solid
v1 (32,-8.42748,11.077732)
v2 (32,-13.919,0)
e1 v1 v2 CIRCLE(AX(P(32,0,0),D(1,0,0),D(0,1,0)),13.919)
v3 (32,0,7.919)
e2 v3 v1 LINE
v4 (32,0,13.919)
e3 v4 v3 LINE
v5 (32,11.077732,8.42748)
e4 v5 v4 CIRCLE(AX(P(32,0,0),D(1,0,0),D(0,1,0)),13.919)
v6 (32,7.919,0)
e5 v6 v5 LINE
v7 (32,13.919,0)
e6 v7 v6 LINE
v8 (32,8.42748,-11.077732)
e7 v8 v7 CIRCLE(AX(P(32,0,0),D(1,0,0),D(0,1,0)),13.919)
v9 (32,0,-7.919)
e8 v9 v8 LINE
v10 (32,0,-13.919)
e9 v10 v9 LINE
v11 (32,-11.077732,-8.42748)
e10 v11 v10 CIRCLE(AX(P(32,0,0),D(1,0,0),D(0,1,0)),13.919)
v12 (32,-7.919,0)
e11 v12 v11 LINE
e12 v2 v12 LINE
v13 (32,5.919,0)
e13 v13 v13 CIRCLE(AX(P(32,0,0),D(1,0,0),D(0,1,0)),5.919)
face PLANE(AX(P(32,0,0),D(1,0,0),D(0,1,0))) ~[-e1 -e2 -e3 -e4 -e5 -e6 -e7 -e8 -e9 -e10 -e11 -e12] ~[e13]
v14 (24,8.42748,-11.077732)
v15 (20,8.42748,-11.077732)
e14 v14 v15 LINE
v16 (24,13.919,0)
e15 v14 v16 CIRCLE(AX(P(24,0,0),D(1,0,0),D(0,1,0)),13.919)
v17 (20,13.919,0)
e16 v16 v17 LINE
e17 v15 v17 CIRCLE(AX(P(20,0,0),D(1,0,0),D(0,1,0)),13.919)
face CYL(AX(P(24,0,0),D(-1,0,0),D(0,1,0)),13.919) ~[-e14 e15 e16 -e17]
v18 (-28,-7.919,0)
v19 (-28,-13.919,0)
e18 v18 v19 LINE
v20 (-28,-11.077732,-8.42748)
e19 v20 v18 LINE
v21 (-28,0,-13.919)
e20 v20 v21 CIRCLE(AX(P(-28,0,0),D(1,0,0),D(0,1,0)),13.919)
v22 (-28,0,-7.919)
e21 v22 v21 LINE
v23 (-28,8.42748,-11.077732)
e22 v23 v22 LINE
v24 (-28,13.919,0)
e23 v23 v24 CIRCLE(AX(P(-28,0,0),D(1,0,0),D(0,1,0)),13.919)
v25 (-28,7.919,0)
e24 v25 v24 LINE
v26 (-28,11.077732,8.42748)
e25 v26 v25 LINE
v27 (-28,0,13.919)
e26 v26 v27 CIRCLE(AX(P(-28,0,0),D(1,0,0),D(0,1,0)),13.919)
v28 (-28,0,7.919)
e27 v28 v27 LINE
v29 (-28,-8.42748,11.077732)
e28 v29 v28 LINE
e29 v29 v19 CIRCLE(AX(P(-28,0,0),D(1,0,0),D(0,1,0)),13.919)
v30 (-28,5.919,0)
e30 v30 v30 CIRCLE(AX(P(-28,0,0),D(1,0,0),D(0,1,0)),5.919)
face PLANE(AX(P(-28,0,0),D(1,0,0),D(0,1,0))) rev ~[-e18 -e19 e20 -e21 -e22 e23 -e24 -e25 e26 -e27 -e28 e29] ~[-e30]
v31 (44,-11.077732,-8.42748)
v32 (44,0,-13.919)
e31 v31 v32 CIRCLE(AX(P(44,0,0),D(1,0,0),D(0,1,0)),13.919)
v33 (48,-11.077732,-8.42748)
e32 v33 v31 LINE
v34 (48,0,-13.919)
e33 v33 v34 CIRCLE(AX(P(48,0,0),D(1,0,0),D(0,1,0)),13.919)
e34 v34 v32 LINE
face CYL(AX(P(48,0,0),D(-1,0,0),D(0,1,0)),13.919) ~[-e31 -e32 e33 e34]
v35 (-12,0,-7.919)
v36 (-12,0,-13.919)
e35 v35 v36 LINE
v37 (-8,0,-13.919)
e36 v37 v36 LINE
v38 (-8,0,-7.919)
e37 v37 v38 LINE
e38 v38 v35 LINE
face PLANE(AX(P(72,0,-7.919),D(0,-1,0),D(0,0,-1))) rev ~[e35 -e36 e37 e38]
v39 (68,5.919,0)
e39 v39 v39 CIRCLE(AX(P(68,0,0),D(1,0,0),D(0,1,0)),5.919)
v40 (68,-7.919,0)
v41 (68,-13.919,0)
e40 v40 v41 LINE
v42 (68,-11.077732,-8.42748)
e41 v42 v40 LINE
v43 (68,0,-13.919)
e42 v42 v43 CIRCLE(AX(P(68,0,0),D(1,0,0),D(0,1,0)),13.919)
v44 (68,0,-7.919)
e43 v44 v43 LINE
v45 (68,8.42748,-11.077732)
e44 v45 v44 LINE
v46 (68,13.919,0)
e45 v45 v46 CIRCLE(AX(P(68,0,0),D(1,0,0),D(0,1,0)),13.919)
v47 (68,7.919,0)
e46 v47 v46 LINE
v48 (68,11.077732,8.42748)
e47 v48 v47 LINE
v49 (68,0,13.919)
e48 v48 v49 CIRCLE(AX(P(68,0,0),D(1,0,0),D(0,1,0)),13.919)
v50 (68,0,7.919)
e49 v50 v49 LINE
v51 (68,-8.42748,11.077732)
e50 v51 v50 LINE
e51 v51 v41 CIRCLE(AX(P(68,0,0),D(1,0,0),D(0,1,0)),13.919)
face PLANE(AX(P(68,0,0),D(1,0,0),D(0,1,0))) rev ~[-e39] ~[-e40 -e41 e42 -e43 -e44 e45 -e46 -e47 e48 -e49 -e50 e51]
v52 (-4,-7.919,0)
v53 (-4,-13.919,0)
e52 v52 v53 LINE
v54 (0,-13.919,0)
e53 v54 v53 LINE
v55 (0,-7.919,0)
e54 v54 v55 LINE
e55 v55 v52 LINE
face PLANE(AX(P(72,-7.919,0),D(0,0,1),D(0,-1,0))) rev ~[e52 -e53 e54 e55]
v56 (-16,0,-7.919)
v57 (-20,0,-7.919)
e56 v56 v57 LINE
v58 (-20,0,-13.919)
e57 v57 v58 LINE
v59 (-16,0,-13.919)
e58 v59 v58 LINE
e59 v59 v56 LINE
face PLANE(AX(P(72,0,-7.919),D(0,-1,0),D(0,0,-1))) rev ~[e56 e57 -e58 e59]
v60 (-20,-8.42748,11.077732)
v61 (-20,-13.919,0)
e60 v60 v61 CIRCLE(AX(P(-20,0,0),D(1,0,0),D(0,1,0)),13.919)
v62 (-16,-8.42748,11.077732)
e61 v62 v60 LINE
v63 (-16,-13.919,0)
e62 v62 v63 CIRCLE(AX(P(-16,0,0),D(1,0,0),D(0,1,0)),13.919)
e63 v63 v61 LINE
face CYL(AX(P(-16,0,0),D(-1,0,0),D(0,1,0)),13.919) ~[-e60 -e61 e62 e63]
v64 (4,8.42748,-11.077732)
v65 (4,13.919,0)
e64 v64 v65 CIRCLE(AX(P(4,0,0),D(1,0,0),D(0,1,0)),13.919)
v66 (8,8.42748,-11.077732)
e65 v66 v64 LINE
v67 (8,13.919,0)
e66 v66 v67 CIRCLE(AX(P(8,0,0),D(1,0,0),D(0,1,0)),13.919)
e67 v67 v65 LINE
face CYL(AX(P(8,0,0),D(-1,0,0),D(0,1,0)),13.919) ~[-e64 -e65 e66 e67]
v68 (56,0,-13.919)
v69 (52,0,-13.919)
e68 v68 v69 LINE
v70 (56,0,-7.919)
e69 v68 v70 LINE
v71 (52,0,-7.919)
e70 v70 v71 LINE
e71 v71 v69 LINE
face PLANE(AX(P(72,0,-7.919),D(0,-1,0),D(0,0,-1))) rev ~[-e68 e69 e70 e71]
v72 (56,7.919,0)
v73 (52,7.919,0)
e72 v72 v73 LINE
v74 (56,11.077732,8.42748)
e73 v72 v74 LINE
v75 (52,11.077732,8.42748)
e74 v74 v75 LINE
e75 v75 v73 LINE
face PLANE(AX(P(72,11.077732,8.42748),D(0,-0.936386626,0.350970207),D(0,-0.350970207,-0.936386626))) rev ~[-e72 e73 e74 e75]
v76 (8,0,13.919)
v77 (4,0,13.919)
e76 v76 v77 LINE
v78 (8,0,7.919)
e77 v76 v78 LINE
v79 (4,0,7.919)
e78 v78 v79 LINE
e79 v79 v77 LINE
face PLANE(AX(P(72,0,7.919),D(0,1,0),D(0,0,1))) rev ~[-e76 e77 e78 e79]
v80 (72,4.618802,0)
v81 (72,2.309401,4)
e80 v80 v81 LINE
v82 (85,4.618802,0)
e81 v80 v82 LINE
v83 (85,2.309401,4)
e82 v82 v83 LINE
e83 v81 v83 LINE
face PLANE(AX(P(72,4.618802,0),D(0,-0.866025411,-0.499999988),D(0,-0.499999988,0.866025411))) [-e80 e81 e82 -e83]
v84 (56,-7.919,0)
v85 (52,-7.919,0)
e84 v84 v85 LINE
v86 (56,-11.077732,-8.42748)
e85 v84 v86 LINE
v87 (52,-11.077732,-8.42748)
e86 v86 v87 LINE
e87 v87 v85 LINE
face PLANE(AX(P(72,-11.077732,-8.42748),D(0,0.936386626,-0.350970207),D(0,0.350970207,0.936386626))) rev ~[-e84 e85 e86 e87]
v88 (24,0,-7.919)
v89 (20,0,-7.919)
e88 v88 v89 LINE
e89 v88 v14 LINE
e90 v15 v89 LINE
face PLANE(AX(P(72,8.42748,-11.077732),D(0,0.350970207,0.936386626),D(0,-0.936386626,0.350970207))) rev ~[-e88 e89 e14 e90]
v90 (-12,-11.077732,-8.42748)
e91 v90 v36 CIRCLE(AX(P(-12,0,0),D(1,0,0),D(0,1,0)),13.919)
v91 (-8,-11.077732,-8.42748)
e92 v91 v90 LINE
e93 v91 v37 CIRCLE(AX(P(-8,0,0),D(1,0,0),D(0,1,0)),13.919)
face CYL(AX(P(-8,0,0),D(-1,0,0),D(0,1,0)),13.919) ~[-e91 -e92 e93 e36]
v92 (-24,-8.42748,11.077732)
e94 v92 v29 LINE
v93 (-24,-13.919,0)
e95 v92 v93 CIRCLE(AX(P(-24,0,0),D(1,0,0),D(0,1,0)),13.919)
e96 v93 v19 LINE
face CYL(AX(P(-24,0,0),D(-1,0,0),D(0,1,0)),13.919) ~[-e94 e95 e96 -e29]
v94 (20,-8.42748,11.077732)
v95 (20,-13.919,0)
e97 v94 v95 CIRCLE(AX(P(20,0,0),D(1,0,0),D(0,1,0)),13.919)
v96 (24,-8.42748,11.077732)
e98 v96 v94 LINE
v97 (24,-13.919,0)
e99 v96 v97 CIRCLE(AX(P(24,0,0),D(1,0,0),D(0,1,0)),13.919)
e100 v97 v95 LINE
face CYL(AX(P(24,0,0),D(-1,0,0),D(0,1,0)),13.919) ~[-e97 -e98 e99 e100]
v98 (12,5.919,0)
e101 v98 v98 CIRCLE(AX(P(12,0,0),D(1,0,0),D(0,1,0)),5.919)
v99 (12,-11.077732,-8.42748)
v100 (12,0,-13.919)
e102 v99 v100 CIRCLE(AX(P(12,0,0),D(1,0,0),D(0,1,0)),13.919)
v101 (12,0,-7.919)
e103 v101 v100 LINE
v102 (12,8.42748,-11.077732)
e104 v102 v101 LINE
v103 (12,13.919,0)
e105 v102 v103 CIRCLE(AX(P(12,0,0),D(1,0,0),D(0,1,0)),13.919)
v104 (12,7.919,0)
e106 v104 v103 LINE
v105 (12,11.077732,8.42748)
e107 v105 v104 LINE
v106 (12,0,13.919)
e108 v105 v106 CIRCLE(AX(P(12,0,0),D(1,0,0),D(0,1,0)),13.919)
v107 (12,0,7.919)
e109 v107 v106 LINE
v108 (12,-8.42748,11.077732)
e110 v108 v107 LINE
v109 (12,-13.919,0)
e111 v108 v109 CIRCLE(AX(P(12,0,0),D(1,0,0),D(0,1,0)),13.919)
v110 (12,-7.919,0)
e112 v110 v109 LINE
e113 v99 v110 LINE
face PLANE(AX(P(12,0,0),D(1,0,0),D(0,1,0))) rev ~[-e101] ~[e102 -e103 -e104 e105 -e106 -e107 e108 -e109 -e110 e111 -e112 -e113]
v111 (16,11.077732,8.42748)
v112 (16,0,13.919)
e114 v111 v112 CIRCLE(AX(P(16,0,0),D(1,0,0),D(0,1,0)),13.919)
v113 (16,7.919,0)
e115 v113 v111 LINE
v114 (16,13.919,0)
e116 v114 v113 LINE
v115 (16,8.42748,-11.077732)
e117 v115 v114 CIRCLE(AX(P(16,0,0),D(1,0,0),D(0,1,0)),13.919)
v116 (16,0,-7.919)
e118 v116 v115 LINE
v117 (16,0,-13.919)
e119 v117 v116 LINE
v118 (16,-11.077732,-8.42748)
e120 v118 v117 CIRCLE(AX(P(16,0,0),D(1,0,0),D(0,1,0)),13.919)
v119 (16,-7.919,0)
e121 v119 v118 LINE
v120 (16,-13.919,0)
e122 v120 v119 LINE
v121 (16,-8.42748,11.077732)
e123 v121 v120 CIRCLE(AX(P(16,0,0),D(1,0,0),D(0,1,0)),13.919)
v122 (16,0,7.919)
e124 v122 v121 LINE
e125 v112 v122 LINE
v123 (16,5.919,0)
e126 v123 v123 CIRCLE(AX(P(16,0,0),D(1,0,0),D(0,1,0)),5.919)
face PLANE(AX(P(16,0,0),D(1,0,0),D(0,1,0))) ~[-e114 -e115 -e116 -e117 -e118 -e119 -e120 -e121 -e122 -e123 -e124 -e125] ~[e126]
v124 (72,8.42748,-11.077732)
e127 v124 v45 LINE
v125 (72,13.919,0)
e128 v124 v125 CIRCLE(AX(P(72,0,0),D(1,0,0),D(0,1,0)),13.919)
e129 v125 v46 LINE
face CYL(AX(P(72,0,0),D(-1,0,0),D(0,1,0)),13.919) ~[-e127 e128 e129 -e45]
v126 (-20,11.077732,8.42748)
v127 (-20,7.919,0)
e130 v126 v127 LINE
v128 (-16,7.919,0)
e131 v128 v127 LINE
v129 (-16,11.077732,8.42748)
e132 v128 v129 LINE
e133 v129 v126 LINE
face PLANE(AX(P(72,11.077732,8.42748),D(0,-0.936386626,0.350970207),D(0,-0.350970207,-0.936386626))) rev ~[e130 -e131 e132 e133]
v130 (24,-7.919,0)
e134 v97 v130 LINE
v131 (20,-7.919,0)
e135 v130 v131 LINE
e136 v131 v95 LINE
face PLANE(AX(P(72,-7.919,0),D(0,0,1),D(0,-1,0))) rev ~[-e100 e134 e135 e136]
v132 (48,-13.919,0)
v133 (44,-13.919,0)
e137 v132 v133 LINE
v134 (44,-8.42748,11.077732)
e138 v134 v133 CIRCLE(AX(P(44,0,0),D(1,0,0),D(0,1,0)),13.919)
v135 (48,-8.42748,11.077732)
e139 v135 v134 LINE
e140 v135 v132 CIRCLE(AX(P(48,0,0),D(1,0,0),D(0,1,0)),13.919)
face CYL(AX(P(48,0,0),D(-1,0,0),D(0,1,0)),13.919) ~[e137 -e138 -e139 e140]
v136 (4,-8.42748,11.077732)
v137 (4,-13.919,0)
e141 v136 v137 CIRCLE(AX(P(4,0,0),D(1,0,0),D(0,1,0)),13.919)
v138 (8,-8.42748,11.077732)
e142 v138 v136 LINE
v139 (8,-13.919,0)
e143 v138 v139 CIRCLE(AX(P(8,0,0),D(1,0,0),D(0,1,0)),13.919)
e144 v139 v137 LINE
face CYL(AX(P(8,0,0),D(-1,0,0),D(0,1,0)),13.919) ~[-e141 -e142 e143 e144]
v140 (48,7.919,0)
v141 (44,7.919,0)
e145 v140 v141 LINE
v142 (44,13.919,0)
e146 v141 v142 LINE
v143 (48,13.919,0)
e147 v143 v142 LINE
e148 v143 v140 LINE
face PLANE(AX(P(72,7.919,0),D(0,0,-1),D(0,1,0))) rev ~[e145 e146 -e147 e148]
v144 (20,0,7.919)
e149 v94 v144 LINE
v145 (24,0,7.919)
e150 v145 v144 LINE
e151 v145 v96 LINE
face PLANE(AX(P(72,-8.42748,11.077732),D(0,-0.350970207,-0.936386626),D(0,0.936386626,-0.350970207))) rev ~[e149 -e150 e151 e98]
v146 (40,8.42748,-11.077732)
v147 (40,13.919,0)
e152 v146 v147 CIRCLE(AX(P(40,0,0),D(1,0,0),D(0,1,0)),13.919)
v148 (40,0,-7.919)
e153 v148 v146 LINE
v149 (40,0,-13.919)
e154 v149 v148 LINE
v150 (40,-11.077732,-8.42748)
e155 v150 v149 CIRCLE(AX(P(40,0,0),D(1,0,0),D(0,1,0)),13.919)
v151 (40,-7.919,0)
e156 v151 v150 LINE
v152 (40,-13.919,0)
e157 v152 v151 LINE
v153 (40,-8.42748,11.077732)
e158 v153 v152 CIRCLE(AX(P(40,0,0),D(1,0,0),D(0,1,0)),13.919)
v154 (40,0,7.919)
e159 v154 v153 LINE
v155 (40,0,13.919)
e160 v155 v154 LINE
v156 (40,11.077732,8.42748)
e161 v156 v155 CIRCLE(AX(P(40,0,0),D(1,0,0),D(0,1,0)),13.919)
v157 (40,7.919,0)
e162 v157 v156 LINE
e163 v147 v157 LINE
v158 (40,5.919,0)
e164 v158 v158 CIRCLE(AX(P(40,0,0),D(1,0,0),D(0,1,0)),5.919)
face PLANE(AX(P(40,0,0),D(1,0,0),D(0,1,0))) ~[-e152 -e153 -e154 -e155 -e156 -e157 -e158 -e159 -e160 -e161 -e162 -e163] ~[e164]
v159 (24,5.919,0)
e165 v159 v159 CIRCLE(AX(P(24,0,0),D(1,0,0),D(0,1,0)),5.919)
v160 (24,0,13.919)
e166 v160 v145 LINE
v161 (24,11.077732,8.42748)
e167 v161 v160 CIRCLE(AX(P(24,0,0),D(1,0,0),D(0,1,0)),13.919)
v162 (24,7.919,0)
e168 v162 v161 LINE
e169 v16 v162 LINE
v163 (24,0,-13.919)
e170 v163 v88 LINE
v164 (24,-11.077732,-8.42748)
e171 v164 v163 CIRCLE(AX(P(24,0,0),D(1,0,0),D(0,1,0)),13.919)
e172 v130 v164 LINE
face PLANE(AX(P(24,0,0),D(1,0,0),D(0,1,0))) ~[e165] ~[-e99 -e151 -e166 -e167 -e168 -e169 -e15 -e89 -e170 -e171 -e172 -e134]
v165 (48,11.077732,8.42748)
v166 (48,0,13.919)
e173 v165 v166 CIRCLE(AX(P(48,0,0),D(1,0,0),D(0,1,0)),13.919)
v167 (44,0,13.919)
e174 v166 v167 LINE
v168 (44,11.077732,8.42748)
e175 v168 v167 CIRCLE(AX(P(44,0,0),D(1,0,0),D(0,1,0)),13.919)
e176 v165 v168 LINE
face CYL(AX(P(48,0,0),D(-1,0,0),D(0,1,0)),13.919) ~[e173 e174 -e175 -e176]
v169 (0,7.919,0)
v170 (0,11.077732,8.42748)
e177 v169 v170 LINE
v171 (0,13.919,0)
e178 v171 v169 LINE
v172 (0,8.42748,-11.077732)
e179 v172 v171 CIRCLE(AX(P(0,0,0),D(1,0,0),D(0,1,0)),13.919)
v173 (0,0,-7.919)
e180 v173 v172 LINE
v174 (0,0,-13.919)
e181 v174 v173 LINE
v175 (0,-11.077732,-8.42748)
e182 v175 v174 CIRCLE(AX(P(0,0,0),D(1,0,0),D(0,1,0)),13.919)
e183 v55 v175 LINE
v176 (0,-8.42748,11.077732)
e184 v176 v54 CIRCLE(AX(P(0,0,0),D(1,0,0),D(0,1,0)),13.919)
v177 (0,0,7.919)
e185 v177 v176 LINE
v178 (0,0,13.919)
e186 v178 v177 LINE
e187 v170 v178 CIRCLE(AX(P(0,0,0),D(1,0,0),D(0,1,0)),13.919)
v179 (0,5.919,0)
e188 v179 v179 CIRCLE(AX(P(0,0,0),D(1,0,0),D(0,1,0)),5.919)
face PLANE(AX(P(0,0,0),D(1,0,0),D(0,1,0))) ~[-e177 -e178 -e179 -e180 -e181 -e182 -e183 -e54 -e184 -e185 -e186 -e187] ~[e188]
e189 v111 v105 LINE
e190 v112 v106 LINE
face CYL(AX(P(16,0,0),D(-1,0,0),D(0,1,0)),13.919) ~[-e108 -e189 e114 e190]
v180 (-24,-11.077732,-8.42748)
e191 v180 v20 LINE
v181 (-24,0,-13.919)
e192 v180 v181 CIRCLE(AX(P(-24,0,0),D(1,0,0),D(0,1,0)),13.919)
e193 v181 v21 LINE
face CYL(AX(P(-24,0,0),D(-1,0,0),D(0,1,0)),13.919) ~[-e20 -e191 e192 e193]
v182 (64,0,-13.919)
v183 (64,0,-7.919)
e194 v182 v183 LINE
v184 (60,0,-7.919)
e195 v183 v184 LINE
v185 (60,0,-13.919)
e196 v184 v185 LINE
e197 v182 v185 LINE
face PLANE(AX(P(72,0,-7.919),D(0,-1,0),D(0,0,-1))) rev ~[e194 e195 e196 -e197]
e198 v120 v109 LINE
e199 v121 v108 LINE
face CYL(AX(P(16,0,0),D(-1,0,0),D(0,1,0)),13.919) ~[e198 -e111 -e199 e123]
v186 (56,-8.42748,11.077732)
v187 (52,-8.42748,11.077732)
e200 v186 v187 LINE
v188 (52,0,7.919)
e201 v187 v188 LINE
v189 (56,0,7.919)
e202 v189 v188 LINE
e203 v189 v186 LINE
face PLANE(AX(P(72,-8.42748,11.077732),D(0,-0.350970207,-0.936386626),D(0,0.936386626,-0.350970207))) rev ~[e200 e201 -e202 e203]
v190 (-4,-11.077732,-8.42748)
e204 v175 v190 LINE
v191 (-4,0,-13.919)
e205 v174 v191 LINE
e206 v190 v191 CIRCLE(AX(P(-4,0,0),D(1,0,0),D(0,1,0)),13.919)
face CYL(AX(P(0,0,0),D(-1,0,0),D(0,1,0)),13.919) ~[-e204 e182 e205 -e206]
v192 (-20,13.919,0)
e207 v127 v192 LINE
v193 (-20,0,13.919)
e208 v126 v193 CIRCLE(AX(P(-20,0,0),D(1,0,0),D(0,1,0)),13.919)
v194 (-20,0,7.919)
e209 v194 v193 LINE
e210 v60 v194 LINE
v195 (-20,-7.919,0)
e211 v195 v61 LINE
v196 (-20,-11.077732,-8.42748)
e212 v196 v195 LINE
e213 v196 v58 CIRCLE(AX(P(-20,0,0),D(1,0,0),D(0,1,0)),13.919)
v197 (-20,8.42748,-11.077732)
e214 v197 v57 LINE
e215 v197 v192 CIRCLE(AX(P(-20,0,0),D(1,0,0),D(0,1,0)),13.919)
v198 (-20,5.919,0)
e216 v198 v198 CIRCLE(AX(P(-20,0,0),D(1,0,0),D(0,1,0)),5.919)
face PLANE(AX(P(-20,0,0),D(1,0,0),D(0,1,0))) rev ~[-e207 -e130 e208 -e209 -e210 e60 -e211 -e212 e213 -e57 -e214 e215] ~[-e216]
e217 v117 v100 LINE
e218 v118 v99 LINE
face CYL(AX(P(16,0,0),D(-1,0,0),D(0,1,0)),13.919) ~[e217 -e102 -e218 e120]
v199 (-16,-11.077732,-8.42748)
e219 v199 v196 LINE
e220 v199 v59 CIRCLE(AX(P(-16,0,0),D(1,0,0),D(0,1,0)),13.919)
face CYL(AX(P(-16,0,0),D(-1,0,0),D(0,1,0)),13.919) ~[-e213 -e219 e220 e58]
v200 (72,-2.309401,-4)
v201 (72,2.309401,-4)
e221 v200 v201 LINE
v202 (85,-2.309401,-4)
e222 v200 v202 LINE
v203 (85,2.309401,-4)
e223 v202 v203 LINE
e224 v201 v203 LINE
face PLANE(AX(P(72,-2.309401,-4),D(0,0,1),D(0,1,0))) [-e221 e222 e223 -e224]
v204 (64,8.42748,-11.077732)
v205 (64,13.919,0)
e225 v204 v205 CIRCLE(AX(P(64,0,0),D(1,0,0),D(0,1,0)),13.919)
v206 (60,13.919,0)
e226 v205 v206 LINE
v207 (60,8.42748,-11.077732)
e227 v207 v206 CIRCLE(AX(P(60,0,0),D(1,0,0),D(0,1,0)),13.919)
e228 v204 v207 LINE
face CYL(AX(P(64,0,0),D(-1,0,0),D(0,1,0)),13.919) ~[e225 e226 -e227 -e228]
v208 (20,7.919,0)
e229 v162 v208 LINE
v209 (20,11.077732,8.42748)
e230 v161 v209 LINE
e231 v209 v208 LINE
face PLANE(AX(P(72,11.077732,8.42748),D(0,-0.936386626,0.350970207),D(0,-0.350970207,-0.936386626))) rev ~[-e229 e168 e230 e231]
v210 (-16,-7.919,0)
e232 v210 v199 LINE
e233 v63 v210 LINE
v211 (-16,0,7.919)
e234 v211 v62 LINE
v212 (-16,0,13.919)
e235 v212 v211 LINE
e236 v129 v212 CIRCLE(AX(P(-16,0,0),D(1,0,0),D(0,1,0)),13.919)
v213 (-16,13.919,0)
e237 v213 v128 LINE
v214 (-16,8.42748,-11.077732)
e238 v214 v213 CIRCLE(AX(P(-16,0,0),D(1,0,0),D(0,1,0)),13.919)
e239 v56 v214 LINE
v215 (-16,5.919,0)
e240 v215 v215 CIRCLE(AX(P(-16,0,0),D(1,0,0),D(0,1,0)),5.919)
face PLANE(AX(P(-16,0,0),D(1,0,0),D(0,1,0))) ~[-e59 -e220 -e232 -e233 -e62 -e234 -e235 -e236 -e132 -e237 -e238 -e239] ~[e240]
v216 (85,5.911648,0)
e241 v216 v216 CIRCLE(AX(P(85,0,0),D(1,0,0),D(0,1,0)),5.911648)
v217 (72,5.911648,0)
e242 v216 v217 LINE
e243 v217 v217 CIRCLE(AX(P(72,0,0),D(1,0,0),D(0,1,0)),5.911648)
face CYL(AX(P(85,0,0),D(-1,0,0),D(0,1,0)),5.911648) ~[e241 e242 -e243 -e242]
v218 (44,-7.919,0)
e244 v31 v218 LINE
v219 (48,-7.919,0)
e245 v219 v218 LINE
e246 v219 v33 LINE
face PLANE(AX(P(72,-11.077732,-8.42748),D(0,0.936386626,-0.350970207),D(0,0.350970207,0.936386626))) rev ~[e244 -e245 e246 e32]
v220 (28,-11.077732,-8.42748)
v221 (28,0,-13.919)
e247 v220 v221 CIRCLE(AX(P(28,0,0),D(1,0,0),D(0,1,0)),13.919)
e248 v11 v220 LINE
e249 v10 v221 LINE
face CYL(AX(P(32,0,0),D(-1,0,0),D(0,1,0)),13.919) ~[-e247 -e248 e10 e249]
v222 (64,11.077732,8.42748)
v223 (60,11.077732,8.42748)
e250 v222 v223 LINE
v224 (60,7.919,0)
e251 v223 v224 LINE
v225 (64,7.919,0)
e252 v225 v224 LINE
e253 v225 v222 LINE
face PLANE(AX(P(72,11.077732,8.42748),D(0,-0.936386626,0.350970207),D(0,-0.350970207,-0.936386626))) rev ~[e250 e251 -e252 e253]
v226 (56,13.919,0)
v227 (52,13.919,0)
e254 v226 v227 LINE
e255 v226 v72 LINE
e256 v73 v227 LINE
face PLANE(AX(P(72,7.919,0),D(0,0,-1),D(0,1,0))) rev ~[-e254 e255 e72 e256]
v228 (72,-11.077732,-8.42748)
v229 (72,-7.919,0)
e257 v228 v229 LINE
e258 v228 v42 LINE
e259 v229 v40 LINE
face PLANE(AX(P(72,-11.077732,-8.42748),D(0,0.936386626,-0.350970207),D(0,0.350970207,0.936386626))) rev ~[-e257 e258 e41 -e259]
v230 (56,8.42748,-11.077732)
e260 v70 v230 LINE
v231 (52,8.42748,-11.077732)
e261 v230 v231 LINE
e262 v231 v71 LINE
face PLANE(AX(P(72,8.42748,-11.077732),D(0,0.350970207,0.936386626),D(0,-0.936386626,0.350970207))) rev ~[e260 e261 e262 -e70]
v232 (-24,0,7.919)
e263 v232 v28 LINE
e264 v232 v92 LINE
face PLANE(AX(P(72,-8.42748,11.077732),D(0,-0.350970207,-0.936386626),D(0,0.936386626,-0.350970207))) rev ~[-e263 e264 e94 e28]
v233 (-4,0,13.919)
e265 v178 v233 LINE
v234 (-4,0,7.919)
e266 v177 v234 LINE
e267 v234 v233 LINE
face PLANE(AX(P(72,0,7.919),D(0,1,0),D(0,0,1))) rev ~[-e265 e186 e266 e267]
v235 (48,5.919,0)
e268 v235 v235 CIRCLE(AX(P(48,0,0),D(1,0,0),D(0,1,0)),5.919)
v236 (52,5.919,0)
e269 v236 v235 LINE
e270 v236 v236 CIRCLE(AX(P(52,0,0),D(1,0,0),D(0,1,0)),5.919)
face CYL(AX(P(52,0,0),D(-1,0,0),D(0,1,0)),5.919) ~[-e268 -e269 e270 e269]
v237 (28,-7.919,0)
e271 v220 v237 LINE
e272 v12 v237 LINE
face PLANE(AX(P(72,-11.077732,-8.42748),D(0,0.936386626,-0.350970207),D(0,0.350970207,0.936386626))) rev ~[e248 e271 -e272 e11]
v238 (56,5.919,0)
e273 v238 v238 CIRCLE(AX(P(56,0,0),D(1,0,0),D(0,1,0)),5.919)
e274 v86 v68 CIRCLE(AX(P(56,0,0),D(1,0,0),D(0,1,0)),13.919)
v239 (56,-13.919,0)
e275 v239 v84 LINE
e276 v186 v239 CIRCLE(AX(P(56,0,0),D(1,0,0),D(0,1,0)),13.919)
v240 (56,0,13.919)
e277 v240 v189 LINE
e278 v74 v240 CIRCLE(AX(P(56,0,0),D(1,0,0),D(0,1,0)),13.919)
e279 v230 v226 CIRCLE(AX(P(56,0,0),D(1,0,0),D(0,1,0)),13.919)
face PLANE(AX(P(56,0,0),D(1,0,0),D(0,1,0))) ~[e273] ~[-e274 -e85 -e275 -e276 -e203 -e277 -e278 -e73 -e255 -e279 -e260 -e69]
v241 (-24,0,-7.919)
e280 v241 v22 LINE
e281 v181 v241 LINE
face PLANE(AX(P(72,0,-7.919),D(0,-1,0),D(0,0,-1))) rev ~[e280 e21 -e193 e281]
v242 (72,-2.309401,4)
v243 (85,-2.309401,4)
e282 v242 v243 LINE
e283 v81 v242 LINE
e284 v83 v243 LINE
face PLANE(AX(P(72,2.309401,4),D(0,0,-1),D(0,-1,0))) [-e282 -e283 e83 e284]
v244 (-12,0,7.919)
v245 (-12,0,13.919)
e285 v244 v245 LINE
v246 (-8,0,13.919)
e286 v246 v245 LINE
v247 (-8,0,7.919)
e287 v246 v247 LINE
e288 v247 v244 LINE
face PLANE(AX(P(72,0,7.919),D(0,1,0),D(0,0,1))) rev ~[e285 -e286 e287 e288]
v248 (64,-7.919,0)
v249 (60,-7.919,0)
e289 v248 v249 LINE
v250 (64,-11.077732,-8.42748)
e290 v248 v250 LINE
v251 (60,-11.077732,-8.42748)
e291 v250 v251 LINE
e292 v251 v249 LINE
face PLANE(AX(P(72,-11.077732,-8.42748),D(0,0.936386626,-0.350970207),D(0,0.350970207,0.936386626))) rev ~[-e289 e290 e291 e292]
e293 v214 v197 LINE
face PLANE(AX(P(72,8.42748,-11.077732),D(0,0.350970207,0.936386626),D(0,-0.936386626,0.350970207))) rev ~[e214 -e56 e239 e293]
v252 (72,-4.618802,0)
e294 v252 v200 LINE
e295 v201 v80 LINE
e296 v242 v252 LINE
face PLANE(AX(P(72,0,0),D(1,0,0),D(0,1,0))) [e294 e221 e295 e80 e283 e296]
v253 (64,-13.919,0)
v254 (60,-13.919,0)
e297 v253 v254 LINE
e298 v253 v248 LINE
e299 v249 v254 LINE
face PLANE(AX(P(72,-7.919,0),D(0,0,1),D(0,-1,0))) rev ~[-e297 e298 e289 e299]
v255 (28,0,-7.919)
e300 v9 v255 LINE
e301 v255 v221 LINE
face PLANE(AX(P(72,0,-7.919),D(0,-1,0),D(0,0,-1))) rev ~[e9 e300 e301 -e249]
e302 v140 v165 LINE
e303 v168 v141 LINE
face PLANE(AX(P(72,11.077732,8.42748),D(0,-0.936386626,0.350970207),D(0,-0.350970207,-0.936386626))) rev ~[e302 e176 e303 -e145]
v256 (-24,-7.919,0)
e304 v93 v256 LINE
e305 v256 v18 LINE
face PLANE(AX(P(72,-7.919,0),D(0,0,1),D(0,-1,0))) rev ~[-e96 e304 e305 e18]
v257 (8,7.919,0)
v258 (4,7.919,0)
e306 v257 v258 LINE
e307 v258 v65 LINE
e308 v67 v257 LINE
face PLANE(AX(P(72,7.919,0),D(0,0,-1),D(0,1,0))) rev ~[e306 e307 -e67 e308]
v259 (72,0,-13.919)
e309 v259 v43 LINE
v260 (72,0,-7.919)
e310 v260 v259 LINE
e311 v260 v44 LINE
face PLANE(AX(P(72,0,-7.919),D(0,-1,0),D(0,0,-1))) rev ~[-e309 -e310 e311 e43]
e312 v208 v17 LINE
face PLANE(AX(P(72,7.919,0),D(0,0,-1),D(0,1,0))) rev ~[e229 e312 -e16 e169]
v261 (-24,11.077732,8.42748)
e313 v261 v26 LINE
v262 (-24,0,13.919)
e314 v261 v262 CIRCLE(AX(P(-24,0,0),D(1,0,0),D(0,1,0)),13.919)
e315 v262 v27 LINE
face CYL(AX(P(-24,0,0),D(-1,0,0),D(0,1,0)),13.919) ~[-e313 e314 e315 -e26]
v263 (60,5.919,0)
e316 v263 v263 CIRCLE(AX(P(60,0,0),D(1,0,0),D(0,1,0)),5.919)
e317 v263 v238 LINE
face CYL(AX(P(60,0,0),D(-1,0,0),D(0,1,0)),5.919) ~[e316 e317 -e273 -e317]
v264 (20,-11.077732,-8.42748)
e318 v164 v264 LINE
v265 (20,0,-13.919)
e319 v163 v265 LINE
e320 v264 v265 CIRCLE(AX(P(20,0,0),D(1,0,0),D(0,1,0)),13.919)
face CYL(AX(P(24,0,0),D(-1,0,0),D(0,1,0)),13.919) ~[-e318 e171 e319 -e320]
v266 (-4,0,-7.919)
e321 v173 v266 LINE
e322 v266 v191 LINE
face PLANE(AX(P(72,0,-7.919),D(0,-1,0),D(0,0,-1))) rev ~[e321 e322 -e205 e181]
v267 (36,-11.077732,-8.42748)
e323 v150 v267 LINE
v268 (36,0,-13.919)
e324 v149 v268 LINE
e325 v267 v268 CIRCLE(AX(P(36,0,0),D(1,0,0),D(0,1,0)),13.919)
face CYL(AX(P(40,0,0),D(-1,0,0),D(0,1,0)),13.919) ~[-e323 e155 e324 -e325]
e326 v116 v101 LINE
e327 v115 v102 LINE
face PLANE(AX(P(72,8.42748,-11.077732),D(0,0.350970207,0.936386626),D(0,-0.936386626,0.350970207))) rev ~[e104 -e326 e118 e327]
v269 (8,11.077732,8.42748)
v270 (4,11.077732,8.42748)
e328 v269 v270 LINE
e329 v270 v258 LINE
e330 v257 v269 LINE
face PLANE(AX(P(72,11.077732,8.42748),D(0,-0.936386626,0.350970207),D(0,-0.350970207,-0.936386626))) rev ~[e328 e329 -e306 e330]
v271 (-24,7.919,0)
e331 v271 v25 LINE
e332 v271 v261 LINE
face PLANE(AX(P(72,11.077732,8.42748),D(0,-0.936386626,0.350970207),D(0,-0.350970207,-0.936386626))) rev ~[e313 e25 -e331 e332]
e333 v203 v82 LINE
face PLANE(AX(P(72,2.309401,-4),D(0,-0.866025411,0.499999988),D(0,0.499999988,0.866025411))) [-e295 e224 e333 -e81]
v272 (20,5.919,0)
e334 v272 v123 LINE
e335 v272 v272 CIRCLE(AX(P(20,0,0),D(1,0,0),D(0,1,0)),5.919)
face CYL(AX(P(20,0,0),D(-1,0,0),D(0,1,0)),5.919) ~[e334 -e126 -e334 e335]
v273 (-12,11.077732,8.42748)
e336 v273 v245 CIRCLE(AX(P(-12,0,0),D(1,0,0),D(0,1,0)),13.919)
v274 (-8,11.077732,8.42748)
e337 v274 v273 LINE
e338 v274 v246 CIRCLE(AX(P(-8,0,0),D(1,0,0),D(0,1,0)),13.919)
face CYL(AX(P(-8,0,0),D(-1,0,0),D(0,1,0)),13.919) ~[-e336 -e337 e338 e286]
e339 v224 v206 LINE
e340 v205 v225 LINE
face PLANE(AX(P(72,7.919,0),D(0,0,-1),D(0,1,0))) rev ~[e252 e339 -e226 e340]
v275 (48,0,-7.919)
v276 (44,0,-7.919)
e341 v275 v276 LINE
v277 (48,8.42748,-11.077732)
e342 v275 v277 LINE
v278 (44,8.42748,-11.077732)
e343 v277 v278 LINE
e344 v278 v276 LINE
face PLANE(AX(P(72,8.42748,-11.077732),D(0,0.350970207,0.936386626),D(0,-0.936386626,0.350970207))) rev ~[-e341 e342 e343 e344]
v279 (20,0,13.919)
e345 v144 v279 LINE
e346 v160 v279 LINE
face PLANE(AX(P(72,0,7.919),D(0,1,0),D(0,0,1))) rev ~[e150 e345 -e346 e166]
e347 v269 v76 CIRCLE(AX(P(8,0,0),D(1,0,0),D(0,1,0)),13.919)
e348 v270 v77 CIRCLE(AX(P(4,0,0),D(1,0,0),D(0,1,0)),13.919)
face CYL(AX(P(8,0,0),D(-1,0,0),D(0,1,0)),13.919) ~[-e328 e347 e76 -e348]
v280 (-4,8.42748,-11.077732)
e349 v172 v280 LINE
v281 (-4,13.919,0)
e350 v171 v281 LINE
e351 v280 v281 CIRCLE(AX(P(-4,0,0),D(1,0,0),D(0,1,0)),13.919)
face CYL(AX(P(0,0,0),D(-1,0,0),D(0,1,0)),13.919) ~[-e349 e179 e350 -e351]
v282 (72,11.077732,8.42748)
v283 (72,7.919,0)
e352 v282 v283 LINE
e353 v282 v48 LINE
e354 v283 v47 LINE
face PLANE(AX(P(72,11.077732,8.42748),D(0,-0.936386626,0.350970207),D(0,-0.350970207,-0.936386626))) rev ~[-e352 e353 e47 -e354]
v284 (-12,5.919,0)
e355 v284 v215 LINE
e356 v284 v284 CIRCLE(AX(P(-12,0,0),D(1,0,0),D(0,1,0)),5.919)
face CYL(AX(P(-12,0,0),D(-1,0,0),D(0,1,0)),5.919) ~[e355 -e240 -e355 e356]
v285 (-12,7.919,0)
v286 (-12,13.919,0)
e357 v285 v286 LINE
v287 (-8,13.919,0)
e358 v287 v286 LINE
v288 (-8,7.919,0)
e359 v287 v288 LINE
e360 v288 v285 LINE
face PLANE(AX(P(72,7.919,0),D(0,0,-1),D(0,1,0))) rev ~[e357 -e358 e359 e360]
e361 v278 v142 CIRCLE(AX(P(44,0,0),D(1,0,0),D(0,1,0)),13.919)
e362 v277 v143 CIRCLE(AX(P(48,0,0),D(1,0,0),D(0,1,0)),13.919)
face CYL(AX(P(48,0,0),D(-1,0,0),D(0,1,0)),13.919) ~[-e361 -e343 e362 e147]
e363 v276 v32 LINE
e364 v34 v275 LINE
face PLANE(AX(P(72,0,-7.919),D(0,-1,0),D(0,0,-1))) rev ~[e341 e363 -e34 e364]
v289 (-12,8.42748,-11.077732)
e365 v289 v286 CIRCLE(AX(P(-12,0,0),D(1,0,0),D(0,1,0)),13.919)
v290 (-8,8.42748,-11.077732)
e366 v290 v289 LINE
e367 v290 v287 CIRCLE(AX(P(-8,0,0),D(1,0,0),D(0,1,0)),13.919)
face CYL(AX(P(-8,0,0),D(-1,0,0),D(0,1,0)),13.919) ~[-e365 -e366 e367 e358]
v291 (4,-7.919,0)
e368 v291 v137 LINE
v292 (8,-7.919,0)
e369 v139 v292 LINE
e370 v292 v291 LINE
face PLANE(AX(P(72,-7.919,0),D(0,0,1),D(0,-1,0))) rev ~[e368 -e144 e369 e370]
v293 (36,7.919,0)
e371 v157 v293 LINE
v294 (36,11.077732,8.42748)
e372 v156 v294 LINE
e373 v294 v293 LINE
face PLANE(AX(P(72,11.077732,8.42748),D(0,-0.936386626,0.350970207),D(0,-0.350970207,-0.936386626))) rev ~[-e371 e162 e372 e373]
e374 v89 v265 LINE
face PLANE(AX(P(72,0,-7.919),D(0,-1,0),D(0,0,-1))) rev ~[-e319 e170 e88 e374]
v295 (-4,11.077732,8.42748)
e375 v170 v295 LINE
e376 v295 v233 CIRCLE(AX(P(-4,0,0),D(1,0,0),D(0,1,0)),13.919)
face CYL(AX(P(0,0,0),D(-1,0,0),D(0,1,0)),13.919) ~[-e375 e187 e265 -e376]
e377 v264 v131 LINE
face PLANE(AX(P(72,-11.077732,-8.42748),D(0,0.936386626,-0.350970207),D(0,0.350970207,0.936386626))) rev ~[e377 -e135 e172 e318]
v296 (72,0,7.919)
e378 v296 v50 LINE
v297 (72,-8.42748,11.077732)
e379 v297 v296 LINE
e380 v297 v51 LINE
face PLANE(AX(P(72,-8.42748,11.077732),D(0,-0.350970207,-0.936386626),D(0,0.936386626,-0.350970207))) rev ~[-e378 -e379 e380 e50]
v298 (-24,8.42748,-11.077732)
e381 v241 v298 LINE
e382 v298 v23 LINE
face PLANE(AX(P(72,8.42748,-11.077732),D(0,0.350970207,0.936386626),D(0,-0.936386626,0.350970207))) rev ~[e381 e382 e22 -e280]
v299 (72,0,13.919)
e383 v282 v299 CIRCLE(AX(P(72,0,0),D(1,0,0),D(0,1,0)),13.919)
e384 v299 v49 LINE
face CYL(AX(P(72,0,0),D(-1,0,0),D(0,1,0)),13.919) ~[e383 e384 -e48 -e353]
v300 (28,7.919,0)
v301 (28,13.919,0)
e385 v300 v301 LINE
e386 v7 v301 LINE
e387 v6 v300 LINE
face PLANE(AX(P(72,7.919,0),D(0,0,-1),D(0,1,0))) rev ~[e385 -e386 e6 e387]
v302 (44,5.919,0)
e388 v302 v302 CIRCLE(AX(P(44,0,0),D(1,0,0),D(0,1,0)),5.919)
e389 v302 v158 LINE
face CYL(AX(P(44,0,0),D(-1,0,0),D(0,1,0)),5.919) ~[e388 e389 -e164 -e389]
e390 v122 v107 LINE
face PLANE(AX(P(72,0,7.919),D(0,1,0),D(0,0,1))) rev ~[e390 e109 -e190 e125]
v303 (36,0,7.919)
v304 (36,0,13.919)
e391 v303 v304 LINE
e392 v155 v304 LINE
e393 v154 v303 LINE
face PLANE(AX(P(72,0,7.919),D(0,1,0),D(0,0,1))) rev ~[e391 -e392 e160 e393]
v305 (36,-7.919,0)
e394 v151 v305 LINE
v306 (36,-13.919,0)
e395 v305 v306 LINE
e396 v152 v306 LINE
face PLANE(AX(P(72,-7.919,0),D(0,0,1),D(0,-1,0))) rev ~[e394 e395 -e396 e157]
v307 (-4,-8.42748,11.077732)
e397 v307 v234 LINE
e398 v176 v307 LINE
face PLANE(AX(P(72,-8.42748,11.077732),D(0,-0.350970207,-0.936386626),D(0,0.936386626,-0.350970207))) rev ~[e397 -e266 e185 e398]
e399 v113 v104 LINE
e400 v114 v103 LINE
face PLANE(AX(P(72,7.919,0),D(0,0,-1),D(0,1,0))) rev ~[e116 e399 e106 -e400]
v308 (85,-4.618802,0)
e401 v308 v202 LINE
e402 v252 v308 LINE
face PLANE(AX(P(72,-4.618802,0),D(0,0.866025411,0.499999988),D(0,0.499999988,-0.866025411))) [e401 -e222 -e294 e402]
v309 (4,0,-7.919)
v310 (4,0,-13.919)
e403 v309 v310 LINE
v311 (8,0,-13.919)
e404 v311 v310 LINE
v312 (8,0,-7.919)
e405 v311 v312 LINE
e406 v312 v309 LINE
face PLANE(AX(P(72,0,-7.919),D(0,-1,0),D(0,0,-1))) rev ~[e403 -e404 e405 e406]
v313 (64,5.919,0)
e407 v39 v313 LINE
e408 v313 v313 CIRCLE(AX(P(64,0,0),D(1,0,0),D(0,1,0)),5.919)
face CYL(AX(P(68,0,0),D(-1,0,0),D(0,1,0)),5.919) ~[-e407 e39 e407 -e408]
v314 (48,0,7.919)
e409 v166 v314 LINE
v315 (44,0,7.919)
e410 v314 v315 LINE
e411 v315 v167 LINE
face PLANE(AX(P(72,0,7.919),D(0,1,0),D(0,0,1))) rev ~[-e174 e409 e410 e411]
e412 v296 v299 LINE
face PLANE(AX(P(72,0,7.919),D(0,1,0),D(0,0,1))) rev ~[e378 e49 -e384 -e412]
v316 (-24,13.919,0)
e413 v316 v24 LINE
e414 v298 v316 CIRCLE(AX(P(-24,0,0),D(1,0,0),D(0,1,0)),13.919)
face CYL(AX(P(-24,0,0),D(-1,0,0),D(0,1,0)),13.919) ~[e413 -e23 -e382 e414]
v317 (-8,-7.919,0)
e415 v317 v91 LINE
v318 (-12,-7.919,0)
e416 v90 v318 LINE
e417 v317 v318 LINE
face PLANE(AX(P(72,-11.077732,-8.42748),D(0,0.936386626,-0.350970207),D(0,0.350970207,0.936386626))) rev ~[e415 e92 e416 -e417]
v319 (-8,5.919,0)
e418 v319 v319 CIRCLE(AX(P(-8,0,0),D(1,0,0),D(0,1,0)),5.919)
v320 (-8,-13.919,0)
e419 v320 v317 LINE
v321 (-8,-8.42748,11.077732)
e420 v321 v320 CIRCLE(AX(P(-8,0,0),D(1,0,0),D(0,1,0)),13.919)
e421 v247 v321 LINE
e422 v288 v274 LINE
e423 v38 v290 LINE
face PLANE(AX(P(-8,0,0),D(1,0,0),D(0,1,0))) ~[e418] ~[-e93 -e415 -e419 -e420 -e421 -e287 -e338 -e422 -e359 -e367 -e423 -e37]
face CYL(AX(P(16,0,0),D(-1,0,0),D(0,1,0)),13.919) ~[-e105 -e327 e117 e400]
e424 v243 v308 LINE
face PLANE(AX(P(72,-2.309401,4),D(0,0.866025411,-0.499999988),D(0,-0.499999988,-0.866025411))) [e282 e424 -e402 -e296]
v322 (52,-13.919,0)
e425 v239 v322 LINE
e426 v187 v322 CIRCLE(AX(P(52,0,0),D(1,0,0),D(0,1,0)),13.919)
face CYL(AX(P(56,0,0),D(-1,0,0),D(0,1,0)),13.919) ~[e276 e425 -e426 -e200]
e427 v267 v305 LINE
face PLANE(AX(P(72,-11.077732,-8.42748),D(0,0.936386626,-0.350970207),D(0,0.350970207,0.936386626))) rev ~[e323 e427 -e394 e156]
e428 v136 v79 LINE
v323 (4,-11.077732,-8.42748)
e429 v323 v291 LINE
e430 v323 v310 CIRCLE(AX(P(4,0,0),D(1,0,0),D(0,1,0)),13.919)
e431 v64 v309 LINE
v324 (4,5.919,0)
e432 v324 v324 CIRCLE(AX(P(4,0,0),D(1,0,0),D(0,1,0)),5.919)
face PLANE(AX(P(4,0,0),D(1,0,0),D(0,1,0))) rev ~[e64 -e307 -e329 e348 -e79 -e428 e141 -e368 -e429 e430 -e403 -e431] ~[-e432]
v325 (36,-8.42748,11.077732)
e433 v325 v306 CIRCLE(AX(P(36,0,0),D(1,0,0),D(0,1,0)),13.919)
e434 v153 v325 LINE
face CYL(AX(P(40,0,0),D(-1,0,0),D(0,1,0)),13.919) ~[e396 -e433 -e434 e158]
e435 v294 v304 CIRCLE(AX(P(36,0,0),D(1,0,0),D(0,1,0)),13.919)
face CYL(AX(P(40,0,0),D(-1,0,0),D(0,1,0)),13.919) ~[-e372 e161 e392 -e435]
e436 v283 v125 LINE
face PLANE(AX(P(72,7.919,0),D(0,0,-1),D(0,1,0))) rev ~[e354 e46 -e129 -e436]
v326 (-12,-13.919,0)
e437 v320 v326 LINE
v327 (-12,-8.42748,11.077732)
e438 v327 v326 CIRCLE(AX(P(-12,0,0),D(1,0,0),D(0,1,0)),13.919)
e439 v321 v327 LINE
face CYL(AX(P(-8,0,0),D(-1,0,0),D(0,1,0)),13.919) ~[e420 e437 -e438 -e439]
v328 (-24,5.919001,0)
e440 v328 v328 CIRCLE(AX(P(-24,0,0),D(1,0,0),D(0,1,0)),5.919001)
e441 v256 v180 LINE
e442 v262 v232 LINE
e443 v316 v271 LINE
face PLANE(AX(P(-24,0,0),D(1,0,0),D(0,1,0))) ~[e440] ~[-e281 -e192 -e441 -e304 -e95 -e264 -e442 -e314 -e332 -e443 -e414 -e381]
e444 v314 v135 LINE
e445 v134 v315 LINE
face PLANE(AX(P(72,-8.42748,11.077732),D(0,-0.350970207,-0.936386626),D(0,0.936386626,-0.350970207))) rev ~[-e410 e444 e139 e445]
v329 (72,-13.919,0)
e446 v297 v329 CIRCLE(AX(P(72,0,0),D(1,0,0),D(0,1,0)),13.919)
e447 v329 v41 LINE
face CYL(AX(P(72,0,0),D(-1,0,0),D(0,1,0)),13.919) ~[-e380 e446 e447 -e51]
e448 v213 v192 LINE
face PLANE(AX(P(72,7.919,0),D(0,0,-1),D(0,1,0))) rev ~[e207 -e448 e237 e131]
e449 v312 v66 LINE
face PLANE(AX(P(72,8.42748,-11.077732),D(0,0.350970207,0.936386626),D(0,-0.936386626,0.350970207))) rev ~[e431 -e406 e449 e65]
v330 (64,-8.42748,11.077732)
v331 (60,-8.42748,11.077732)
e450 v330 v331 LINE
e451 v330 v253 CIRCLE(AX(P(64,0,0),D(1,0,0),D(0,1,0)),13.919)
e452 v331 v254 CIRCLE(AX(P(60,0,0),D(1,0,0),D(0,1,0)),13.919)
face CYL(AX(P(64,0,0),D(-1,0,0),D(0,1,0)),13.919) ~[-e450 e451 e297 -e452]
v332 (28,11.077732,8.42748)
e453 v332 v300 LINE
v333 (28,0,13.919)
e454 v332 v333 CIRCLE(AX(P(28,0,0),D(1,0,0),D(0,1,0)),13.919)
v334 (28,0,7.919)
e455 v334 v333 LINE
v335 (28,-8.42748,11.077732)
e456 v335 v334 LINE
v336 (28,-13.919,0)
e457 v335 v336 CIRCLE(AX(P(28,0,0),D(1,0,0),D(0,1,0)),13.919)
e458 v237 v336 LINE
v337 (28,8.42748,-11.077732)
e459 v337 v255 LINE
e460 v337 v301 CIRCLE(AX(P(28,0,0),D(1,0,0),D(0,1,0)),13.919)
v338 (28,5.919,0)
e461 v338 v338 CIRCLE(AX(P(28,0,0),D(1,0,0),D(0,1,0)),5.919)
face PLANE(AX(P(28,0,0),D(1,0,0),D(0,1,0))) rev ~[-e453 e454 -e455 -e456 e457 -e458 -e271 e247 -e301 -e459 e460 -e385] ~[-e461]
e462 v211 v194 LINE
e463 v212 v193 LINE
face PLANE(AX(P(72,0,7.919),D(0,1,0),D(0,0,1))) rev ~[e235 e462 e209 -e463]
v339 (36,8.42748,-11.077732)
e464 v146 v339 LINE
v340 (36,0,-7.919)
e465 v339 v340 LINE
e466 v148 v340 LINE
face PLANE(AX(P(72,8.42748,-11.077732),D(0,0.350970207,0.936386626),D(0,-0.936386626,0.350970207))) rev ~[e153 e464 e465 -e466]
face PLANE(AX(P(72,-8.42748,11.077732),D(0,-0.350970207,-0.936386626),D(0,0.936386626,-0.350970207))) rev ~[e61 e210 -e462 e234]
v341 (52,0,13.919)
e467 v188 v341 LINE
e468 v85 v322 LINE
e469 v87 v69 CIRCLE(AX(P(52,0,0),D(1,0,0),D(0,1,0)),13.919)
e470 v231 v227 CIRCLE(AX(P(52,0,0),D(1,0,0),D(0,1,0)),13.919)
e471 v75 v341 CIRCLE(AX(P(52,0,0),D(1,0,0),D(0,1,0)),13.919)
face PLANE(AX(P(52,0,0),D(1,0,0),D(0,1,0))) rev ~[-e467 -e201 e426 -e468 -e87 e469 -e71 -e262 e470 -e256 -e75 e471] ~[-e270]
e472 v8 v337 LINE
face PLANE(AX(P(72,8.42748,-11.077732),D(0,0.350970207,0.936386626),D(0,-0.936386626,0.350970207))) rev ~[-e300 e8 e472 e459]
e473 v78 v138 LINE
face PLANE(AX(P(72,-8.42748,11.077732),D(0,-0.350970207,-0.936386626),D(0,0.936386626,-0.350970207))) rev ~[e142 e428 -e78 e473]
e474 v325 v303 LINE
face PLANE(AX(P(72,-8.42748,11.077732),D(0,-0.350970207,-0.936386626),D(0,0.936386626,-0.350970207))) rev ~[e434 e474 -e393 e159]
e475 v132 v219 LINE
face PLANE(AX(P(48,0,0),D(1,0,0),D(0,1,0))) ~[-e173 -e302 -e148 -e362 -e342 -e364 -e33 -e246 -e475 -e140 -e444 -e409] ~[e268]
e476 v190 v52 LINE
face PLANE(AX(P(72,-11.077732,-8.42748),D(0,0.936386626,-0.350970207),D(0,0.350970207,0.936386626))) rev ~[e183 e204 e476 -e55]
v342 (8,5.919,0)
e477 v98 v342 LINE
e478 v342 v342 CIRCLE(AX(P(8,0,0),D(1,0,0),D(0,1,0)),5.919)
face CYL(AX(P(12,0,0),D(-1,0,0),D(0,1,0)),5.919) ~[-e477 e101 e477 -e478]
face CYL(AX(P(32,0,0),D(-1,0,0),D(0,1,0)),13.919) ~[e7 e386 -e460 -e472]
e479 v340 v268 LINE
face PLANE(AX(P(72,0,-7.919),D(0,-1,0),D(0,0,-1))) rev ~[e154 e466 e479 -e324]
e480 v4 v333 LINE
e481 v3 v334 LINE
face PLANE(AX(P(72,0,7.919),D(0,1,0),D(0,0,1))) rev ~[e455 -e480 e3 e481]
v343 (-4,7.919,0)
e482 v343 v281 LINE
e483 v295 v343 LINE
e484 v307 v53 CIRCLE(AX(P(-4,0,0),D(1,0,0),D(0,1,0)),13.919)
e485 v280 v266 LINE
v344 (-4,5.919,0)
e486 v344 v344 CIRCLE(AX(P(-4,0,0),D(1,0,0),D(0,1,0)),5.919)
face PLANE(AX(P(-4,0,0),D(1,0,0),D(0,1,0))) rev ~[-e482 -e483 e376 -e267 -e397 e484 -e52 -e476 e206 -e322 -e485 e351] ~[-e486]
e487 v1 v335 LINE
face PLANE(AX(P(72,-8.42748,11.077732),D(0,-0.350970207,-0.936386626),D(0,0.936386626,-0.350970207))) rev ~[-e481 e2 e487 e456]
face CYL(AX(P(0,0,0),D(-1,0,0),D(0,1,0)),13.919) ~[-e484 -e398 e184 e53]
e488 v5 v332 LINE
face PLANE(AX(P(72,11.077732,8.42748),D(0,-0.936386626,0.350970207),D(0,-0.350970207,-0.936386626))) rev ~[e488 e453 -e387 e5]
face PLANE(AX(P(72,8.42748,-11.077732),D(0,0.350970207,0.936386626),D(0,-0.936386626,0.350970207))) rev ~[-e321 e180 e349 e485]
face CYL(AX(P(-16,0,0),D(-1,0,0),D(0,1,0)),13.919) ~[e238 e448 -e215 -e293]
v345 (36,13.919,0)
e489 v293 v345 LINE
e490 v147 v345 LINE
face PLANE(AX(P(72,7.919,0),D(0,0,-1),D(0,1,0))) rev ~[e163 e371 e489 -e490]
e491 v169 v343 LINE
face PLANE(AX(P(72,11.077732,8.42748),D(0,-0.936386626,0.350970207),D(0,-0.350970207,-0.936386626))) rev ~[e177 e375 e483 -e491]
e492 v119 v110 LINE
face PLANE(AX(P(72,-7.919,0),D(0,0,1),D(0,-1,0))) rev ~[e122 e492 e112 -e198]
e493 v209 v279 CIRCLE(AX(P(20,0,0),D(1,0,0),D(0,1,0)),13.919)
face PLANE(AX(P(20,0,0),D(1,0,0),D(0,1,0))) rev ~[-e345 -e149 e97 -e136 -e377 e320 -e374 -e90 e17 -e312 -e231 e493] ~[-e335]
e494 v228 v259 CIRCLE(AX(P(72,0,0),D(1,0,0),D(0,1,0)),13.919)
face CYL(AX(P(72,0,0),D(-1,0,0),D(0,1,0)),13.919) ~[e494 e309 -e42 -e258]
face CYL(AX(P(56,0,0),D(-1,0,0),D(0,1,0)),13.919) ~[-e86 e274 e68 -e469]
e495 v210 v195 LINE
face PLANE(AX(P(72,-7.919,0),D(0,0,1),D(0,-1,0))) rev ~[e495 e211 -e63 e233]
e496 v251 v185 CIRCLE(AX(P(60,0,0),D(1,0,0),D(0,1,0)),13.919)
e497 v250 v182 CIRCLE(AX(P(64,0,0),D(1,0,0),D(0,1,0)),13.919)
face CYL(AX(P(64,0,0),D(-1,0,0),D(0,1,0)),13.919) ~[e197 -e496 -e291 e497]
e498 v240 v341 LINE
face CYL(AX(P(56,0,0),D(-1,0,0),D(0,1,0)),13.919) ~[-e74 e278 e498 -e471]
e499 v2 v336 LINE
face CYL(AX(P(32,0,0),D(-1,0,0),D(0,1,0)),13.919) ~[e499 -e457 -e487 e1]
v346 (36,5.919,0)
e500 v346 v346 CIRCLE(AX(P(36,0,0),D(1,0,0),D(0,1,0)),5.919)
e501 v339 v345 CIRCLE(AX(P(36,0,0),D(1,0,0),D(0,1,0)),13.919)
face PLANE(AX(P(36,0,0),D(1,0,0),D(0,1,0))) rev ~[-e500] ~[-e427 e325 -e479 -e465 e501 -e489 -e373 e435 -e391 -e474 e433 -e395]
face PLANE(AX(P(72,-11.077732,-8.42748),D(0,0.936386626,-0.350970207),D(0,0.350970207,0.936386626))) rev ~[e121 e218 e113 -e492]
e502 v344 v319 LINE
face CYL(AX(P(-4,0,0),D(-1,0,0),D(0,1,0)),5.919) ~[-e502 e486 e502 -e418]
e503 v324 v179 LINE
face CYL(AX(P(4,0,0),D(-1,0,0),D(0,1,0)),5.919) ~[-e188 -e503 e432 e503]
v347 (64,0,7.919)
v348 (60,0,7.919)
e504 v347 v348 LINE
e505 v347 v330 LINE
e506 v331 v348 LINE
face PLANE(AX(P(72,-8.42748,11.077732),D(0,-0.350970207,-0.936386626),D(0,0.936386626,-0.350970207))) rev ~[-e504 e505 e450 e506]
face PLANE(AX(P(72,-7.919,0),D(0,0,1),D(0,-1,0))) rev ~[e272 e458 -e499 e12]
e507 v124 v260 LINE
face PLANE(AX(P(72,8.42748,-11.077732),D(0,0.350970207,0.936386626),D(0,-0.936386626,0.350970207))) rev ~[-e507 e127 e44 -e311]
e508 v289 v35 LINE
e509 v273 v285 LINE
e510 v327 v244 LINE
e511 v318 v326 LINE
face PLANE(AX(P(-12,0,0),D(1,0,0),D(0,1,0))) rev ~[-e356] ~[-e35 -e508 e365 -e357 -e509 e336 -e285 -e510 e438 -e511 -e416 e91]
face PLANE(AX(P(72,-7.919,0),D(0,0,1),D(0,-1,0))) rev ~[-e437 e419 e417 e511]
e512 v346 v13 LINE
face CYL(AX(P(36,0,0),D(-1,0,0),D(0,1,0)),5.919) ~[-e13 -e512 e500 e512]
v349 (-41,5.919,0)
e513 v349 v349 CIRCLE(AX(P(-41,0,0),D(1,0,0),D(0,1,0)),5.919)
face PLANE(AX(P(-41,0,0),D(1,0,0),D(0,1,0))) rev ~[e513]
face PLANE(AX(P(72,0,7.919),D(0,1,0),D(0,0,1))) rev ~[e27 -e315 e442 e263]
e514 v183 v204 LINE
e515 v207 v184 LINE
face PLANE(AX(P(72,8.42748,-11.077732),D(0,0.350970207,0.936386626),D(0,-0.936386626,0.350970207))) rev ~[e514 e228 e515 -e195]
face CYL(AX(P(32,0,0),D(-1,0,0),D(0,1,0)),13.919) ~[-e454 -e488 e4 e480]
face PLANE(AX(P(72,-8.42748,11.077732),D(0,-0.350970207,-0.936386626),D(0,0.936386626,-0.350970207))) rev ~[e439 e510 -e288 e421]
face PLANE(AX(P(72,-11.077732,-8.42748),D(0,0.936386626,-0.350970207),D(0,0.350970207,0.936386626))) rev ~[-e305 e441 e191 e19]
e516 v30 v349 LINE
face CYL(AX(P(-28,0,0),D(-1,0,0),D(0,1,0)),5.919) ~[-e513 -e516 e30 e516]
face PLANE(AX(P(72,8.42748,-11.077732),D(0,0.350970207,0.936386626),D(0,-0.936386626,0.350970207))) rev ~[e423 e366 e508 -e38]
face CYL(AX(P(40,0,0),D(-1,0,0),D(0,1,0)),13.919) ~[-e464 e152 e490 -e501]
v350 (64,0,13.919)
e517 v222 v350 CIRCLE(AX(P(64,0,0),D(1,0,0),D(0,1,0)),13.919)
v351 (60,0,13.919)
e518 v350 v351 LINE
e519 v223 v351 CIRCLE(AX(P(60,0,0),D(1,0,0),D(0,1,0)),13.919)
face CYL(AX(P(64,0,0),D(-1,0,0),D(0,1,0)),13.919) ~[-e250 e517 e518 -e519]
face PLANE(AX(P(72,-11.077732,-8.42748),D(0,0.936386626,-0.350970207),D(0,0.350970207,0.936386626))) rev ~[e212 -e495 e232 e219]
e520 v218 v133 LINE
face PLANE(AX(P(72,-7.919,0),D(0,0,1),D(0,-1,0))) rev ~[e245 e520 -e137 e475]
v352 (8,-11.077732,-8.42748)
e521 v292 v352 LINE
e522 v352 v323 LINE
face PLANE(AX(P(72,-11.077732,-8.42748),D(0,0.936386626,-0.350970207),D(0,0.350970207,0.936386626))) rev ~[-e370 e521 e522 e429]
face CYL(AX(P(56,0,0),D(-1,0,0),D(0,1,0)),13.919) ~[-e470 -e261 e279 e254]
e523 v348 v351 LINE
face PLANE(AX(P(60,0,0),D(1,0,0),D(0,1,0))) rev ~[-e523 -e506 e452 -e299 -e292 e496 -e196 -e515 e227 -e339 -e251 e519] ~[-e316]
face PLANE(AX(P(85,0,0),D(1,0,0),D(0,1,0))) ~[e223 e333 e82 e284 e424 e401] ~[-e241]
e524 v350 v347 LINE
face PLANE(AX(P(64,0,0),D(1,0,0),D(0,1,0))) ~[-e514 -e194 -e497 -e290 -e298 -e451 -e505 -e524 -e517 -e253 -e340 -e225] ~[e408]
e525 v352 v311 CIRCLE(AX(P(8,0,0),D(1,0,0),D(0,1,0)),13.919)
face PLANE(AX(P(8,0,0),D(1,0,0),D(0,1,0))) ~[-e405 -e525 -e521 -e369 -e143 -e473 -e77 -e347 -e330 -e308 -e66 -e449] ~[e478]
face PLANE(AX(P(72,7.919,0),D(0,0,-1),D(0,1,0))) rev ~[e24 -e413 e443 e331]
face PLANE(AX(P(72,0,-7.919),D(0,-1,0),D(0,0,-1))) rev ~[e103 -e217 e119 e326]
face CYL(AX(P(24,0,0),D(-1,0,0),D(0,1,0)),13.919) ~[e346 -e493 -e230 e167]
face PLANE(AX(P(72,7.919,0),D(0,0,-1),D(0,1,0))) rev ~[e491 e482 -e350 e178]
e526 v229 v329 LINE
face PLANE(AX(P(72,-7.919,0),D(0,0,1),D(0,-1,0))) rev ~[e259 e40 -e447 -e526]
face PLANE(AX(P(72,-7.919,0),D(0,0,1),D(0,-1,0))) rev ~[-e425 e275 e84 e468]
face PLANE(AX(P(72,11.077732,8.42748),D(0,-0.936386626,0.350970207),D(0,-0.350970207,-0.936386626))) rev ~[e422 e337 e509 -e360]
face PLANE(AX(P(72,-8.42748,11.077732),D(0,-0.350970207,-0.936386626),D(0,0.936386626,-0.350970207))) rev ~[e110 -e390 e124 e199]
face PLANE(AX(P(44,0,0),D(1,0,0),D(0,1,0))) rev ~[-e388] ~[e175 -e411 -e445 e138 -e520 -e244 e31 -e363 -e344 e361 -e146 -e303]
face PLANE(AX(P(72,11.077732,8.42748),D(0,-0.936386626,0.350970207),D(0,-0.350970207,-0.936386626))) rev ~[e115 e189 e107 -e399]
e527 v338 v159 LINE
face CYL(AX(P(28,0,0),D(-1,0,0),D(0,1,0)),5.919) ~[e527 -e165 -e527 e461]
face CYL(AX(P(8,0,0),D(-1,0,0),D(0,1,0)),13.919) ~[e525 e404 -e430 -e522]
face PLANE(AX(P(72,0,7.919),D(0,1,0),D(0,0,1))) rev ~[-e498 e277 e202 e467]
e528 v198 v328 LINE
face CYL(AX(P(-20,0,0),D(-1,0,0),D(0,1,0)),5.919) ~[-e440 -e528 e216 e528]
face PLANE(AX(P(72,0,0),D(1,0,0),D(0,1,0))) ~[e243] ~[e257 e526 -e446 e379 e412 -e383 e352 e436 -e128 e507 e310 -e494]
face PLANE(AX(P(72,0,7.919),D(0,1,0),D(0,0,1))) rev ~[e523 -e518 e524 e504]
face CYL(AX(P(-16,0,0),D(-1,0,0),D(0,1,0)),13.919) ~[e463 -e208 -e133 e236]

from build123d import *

# Parameters (mm, degrees)
F3_DEPTH = 25
F4_DEPTH = 250
F5_DEPTH = 22.8


with BuildPart() as f1:
    # F0 (on Top) → F1 (revolve)
    with BuildSketch(Plane.XY):
        Polygon((-41, 5.919), (-41, 0), (85, 0), (85, 5.911648), (72, 5.911648), (72, 13.919), (68, 13.919), (68, 5.919), (64, 5.919), (64, 13.919), (60, 13.919), (60, 5.919), (56, 5.919), (56, 13.919), (52, 13.919), (52, 5.919), (48, 5.919), (48, 13.919), (44, 13.919), (44, 5.919), (40, 5.919), (40, 13.919), (36, 13.919), (36, 5.919), (32, 5.919), (32, 13.919), (28, 13.919), (28, 5.919), (24, 5.919), (24, 13.919), (20, 13.919), (20, 5.919), (16, 5.919), (16, 13.919), (12, 13.919), (12, 5.919), (8, 5.919), (8, 13.919), (4, 13.919), (4, 5.919), (0, 5.919), (0, 13.919), (-4, 13.919), (-4, 5.919), (-8, 5.919), (-8, 13.919), (-12, 13.919), (-12, 5.919), (-16, 5.919), (-16, 13.919), (-20, 13.919), (-20, 5.919), (-24, 5.919001), (-24, 13.919), (-28, 13.919), (-28, 5.919), align=None)
    revolve(axis=Axis((22, 0, 0), (1, 0, 0)))

    # F2 (on face) → F3 (cut)
    with BuildSketch(Plane.YZ.offset(72)):
        Polygon((-2.309401, -4), (2.309401, -4), (4.618802, 0), (2.309401, 4), (-2.309401, 4), (-4.618802, 0), align=None)
    extrude(amount=F3_DEPTH, mode=Mode.SUBTRACT)

    # F2 (on face) → F4 (cut)
    with BuildSketch(Plane.YZ.offset(72)):
        with BuildLine():
            Line((0, 7.919), (0, 13.919))
            ThreePointArc((0, 13.919), (-4.446775, 13.18957), (-8.42748, 11.077732))
            Line((-8.42748, 11.077732), (0, 7.919))
        make_face()
        with BuildLine():
            ThreePointArc((13.919, 0), (13.18957, 4.446775), (11.077732, 8.42748))
            Line((11.077732, 8.42748), (7.919, 0))
            Line((7.919, 0), (13.919, 0))
        make_face()
        with BuildLine():
            ThreePointArc((0, -13.919), (4.446775, -13.18957), (8.42748, -11.077732))
            Line((8.42748, -11.077732), (0, -7.919))
            Line((0, -7.919), (0, -13.919))
        make_face()
        with BuildLine():
            Line((-7.919, 0), (-13.919, 0))
            ThreePointArc((-13.919, 0), (-13.18957, -4.446775), (-11.077732, -8.42748))
            Line((-11.077732, -8.42748), (-7.919, 0))
        make_face()
    extrude(amount=-F4_DEPTH, mode=Mode.SUBTRACT)

    # F2 (on face) → F5 (cut)
    with BuildSketch(Plane.YZ.offset(72)):
        Polygon((-2.309401, -4), (2.309401, -4), (4.618802, 0), (2.309401, 4), (-2.309401, 4), (-4.618802, 0), align=None)
    extrude(amount=F5_DEPTH, mode=Mode.SUBTRACT)


solid = f1.part
